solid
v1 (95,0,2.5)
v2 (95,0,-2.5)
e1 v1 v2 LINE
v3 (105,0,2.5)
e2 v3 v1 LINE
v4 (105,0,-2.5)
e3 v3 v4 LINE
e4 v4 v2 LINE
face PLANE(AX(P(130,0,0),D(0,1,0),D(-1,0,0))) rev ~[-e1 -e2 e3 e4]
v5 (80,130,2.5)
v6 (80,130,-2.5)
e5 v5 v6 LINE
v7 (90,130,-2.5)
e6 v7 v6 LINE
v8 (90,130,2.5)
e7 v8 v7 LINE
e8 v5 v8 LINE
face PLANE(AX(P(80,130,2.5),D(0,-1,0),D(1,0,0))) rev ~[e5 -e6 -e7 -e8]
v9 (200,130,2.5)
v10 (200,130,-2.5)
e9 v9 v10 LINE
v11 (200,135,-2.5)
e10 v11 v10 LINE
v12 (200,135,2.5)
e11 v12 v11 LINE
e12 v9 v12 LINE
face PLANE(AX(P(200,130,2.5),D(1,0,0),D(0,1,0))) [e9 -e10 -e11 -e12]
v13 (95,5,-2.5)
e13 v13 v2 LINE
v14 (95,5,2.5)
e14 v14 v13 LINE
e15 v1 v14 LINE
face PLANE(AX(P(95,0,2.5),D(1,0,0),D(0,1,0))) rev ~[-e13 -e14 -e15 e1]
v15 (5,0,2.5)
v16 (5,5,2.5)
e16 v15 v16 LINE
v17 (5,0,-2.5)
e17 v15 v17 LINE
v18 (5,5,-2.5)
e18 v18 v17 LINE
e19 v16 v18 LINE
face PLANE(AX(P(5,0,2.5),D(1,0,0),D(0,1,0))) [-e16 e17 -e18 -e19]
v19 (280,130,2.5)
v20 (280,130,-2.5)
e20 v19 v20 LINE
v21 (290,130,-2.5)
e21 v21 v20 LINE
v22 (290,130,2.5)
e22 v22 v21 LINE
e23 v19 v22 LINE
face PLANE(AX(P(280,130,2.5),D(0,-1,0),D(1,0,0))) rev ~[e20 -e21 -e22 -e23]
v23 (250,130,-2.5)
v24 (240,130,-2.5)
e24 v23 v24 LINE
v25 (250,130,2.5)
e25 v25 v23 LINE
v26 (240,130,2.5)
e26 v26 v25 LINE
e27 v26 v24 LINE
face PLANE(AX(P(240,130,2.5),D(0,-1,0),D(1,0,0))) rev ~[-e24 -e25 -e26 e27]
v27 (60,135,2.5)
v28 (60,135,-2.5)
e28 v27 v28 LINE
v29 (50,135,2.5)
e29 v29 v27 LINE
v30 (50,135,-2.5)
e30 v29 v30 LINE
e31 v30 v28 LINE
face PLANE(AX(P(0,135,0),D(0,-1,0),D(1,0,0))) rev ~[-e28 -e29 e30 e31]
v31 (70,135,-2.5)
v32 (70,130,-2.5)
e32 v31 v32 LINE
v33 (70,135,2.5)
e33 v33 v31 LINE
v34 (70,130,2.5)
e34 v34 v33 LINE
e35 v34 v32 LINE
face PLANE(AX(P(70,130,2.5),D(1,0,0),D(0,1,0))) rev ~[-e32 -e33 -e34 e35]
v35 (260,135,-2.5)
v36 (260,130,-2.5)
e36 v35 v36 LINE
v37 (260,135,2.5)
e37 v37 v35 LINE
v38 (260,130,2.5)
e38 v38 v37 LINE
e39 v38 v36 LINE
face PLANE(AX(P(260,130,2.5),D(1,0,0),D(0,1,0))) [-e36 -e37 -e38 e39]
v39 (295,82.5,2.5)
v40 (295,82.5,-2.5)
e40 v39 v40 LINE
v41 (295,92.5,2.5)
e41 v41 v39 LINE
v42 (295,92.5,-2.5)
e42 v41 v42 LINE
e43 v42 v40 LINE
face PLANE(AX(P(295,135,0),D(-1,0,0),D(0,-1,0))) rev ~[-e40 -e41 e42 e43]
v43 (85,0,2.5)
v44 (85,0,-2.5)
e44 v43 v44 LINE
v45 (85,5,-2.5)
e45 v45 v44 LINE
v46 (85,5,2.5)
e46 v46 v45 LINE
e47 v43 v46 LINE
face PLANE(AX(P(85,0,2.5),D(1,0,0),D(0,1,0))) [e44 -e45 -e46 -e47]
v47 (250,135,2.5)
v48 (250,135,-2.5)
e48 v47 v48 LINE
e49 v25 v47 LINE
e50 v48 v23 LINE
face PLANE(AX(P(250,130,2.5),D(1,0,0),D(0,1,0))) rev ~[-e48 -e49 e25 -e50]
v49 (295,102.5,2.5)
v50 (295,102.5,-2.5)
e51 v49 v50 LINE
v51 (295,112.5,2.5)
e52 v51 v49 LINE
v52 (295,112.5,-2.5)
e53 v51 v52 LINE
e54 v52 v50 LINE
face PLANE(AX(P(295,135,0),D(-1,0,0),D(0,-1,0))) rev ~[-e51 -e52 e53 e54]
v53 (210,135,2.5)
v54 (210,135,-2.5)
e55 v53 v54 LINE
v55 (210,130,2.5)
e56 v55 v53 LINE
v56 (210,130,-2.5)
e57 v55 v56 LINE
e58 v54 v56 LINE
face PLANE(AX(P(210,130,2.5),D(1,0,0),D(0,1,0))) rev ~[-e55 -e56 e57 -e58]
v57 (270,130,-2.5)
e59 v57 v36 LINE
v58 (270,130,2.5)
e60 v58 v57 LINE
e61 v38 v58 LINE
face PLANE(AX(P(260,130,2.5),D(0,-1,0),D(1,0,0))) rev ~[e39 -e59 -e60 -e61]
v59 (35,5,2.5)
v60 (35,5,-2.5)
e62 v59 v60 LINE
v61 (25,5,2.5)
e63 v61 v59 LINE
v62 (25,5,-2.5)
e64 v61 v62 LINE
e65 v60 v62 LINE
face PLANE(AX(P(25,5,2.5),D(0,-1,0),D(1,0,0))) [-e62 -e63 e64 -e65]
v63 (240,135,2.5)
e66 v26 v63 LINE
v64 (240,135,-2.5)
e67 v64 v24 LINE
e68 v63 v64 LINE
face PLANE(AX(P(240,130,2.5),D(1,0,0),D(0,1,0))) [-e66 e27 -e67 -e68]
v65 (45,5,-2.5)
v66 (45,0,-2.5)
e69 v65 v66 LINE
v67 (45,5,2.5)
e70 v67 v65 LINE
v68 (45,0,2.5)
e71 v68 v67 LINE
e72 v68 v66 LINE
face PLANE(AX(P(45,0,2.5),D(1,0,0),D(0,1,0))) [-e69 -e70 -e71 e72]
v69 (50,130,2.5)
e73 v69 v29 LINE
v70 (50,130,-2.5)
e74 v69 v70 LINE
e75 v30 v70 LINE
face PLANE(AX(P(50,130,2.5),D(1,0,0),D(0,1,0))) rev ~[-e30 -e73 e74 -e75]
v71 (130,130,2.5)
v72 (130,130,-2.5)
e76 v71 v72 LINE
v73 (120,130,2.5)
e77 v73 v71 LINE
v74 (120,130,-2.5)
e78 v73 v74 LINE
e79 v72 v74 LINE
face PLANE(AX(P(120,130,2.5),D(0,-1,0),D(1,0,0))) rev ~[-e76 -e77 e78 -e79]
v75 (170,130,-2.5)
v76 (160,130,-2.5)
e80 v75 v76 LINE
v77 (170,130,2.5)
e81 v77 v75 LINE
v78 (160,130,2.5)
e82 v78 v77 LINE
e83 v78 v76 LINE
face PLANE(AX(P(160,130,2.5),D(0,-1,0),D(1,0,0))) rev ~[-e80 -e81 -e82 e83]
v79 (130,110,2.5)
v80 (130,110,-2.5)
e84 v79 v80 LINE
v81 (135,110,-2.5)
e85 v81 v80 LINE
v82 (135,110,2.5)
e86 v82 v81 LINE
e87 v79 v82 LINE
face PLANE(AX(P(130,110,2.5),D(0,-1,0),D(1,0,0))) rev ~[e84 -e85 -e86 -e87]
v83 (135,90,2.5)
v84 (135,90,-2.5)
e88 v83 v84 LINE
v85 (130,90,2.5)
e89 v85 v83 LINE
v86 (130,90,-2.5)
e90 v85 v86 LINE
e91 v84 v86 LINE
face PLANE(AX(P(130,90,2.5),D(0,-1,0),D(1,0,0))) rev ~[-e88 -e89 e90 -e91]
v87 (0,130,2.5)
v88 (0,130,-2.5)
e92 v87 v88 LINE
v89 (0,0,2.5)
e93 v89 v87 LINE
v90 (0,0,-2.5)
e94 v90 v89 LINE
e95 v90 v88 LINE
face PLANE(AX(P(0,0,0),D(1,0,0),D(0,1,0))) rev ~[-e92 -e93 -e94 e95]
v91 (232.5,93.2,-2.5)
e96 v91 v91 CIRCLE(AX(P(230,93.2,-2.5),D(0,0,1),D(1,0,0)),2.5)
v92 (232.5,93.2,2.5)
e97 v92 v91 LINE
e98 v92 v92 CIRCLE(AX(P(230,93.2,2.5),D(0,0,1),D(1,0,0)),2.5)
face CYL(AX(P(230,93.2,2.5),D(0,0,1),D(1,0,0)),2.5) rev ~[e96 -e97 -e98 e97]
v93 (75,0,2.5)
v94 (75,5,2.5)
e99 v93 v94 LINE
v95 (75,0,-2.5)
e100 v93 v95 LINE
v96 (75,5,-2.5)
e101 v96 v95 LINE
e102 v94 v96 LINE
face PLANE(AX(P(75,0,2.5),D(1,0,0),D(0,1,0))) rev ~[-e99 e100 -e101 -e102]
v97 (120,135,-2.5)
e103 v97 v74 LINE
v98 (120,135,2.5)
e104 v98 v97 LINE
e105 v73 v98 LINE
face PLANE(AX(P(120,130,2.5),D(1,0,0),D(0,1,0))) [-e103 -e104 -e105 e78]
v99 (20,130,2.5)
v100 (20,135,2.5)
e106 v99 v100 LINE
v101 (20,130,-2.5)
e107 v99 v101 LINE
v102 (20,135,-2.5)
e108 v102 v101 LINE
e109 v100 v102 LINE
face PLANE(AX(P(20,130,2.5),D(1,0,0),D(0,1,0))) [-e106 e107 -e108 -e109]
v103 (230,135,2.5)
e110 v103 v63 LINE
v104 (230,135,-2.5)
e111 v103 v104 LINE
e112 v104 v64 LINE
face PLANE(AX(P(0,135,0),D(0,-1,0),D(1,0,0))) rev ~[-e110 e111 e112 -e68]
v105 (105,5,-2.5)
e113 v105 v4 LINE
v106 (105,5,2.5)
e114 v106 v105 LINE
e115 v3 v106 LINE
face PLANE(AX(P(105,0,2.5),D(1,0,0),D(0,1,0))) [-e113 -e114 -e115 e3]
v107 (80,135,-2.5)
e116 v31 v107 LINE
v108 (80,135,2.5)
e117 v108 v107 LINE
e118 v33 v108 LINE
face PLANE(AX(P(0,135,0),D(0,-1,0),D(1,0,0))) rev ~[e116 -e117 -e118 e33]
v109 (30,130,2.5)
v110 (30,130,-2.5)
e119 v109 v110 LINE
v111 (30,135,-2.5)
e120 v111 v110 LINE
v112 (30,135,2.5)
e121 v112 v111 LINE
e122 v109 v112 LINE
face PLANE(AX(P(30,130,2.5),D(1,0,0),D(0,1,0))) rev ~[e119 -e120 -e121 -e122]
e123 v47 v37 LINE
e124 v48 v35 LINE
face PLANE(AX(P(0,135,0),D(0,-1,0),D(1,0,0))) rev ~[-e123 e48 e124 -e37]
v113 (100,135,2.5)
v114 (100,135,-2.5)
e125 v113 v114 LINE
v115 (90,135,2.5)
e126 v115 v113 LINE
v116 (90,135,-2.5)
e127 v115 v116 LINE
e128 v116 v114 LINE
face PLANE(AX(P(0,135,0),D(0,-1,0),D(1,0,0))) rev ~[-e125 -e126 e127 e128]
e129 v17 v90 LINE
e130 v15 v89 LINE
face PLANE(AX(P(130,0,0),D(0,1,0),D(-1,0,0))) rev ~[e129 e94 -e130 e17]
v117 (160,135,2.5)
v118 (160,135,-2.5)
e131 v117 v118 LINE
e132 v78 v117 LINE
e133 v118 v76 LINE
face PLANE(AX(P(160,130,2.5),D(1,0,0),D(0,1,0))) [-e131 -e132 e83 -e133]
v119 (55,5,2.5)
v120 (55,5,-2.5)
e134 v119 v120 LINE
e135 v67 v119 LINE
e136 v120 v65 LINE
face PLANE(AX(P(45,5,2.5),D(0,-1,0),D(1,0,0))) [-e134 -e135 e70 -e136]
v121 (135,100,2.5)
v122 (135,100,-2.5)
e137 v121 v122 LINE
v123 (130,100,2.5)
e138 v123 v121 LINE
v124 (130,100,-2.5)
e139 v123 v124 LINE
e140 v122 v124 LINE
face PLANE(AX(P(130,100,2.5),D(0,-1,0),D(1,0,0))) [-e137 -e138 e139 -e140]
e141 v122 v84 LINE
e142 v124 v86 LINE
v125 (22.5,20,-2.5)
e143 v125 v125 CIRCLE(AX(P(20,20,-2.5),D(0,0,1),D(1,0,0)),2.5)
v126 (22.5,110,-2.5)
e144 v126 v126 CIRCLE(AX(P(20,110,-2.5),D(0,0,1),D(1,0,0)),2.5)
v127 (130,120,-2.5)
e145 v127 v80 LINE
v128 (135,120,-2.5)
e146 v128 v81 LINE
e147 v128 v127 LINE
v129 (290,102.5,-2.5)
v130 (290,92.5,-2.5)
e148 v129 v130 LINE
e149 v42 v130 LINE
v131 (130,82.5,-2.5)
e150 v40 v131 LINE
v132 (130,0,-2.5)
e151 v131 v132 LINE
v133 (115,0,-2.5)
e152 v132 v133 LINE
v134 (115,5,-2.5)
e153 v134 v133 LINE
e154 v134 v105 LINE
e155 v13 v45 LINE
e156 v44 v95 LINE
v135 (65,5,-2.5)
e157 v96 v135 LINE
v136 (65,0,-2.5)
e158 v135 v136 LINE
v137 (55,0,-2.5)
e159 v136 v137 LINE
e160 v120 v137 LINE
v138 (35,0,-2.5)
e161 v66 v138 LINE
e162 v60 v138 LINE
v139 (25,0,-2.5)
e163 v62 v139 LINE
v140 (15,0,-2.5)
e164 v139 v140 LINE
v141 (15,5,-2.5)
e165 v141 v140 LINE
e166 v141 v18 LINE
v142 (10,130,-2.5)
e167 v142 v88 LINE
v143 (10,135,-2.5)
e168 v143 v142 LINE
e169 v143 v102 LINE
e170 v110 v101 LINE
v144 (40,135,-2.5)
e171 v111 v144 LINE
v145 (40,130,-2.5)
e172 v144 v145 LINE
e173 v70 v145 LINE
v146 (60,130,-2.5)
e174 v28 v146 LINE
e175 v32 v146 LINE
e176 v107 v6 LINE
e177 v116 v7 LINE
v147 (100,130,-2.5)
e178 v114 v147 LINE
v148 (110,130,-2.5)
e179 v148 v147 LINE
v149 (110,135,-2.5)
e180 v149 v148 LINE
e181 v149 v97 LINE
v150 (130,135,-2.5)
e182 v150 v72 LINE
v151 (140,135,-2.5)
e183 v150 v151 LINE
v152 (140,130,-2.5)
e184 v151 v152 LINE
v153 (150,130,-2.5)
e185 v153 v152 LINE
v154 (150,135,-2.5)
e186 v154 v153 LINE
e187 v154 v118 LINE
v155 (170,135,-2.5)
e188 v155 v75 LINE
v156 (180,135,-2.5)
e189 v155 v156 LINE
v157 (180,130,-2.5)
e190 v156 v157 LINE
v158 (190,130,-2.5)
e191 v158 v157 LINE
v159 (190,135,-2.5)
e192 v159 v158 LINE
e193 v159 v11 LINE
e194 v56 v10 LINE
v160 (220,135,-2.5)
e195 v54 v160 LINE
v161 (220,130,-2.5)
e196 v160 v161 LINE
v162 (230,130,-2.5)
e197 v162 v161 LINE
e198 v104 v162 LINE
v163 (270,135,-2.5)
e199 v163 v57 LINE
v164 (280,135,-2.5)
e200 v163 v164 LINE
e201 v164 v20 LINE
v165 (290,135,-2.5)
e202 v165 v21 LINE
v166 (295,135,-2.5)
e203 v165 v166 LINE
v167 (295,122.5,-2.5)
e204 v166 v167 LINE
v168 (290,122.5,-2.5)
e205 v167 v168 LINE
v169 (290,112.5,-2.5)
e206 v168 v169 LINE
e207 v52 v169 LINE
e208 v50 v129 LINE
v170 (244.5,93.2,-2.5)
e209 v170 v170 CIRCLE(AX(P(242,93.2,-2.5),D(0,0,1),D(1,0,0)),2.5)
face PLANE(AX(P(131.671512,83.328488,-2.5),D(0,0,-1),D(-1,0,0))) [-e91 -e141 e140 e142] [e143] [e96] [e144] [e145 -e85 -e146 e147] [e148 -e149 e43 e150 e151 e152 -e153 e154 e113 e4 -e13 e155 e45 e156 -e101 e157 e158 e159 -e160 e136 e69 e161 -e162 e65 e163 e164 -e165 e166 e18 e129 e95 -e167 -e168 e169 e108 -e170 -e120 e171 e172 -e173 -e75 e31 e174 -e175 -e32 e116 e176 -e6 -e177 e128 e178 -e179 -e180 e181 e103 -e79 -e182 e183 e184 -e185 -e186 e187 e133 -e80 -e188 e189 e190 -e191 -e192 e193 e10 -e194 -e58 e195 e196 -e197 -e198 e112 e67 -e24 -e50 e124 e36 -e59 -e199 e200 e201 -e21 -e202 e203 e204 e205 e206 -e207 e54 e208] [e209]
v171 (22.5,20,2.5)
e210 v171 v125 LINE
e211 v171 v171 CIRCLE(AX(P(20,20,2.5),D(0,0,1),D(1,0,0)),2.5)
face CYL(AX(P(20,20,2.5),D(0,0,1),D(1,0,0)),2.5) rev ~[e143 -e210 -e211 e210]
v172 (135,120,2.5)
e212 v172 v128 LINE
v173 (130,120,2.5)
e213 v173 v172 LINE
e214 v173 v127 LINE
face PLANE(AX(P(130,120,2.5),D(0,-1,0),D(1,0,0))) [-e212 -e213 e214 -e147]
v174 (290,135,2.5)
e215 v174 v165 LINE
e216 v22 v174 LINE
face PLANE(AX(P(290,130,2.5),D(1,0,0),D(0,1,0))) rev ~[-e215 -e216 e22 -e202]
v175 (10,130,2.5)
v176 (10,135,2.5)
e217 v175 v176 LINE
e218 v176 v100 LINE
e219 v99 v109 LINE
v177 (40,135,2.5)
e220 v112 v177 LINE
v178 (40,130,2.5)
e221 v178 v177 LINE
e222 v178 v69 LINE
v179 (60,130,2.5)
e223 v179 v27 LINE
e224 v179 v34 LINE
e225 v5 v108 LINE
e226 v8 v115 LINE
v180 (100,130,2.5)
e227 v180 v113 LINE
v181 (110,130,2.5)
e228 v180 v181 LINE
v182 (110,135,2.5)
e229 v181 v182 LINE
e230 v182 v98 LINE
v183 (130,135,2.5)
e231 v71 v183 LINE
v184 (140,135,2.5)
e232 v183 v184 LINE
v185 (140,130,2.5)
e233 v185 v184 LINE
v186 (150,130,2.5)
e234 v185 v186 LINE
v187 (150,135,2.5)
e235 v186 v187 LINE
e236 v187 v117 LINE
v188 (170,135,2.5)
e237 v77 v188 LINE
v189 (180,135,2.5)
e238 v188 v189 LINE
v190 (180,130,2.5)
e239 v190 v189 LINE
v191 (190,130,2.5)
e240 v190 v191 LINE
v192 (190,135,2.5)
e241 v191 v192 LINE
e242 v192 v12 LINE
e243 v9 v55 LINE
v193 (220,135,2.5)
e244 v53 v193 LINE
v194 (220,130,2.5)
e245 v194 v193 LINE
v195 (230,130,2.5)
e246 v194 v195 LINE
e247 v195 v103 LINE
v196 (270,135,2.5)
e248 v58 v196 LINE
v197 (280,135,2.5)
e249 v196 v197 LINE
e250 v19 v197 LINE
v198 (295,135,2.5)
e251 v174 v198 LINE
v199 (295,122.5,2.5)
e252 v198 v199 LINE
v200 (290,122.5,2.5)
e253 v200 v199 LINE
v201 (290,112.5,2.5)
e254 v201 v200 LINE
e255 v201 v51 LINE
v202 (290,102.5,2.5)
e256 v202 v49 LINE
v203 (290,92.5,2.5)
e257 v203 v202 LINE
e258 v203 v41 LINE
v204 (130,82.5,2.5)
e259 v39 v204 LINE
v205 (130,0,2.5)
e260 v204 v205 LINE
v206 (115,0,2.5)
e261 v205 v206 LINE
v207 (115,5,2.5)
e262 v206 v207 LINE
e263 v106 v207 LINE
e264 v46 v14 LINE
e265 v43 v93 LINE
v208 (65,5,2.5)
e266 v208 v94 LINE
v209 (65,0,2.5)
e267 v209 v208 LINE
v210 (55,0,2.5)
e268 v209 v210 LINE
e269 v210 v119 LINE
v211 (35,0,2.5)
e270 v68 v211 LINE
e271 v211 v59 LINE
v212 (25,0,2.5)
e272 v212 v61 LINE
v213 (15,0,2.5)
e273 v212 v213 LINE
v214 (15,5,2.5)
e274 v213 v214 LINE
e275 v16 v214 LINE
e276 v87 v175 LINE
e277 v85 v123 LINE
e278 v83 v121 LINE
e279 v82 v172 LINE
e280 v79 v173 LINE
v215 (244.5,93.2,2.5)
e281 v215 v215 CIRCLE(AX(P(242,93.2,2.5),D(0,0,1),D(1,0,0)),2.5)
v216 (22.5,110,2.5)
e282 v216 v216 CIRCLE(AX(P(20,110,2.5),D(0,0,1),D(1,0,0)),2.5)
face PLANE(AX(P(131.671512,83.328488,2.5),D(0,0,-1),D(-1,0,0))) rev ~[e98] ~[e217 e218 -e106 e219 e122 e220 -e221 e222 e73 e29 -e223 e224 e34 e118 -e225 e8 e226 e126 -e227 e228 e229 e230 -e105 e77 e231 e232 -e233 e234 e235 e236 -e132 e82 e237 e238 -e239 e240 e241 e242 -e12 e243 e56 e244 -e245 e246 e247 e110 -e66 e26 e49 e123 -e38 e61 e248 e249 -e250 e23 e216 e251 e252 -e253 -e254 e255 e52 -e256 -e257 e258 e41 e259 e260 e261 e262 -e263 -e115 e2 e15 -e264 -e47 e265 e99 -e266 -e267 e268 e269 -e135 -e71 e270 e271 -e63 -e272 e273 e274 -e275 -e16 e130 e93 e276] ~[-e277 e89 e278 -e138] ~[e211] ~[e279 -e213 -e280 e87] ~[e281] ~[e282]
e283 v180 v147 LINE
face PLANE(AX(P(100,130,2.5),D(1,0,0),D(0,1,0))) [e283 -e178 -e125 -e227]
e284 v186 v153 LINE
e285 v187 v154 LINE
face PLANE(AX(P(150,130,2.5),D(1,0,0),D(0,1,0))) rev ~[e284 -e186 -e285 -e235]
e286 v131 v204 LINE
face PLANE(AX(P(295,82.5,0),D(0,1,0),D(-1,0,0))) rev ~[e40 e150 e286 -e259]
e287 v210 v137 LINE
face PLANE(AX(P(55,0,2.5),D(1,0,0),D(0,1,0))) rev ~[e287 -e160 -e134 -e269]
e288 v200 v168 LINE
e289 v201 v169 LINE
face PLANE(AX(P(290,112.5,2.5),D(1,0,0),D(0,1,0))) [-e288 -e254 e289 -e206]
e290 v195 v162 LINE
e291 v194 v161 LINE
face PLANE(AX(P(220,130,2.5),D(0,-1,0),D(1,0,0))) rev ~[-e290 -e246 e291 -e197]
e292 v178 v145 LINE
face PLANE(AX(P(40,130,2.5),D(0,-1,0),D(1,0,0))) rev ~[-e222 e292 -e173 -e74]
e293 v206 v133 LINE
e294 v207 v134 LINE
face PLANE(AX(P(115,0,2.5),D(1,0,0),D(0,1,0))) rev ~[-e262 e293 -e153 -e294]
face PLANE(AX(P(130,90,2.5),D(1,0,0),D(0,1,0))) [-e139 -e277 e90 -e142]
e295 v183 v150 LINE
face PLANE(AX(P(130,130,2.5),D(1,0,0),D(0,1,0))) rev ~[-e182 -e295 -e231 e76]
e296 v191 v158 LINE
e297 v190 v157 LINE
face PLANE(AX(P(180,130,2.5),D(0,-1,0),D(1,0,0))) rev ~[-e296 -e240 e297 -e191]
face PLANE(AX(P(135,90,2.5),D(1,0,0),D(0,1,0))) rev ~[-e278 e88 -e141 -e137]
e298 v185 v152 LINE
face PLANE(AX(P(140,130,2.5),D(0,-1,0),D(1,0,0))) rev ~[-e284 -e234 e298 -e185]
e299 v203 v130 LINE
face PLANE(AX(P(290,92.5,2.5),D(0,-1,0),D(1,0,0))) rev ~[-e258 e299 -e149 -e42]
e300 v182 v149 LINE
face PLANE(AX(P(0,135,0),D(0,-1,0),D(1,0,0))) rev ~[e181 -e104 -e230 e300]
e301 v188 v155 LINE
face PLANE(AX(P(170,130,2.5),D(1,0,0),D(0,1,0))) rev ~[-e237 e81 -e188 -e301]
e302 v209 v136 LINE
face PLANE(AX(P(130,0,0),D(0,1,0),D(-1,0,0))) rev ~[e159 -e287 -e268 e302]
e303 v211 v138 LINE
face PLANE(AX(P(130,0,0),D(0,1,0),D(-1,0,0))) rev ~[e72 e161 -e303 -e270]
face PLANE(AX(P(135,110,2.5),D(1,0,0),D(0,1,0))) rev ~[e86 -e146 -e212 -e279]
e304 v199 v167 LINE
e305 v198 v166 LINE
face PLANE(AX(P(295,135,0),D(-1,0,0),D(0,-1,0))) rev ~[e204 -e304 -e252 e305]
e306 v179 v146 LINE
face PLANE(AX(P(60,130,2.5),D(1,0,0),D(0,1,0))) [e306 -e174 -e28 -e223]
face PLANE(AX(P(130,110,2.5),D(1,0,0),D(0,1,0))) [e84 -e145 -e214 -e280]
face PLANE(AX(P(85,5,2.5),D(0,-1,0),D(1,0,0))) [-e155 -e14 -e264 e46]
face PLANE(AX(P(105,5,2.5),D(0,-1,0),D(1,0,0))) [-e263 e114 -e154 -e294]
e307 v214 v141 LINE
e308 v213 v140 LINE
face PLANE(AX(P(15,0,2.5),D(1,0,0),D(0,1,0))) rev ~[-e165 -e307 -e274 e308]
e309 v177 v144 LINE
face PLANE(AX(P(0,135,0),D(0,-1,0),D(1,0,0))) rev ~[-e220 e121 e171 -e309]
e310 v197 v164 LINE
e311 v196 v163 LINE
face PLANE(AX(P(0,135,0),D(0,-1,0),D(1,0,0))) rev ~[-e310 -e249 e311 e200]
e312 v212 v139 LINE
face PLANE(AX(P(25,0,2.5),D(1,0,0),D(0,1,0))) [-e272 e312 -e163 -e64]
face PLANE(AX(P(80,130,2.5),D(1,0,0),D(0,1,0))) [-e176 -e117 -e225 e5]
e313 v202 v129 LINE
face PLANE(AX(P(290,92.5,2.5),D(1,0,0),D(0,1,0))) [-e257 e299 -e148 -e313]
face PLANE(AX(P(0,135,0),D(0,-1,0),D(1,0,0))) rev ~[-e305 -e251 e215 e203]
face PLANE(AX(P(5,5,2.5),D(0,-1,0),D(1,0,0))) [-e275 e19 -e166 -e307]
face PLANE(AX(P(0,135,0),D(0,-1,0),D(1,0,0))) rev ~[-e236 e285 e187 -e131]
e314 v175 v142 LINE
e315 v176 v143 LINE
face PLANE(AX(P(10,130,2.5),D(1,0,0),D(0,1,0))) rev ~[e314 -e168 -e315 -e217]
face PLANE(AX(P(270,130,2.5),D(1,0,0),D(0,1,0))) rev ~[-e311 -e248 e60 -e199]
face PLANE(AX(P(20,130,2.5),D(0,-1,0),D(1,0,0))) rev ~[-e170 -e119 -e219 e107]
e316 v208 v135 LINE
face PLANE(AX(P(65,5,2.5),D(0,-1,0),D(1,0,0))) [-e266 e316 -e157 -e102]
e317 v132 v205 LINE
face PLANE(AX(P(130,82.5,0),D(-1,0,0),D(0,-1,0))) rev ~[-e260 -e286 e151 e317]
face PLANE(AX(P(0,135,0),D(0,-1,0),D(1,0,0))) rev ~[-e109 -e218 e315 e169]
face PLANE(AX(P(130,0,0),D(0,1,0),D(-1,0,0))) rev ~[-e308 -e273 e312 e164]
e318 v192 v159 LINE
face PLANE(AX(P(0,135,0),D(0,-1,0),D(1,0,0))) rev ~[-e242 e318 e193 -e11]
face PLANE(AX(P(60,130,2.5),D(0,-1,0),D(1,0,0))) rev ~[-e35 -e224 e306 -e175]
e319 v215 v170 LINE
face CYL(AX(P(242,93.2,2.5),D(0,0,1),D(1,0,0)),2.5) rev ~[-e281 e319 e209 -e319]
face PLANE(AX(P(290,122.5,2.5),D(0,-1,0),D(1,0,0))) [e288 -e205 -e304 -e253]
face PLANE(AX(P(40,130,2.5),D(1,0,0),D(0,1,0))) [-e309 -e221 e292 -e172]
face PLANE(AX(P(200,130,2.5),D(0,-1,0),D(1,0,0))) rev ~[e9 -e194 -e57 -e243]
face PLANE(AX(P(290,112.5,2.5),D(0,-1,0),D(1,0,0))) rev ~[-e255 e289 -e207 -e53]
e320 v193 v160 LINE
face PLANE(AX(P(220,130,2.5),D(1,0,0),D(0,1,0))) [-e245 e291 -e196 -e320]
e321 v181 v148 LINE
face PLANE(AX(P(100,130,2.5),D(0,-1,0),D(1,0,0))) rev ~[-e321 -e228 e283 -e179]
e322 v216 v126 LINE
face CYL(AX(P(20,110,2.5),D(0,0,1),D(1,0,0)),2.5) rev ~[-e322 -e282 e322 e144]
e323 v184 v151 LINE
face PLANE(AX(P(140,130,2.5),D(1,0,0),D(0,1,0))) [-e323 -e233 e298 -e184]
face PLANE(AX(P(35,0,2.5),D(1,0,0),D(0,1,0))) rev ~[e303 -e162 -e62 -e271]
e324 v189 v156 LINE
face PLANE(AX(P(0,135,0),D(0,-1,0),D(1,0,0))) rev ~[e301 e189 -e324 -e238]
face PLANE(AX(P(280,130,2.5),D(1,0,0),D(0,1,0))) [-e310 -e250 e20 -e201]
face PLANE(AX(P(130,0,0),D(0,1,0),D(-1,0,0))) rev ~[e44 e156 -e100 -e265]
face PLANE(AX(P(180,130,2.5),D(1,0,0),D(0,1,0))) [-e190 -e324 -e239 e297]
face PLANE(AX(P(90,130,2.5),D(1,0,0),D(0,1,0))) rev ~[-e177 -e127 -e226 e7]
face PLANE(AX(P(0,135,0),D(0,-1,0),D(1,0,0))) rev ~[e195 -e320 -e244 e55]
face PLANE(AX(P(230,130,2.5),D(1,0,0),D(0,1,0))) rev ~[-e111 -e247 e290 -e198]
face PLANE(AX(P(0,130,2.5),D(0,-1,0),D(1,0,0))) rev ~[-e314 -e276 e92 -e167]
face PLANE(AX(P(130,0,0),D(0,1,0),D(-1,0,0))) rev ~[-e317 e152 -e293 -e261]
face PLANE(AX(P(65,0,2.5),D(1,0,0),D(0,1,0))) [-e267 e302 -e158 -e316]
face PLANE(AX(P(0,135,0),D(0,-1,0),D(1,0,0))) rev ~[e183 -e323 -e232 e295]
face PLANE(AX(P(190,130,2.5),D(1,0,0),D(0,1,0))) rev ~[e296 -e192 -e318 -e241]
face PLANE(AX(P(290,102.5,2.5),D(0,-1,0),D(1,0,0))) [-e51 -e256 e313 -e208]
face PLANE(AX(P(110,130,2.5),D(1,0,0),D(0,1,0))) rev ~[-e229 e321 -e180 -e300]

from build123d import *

# Parameters (mm, degrees)
PAD_DEPTH       = 2.5
SKETCH001_W     = 5
SKETCH001_H     = 10
POCKET_DEPTH    = 5.001
SKETCH002_W     = 10
SKETCH002_H     = 5
POCKET001_DEPTH = 5.001
SKETCH003_W     = 5
SKETCH003_H     = 10
POCKET002_DEPTH = 5.001
SKETCH004_W     = 10
SKETCH004_H     = 5
POCKET003_DEPTH = 5.001
SKETCH005_R     = 2.5
POCKET004_DEPTH = 5.001
SKETCH006_R     = 2.5
POCKET005_DEPTH = 5.001


with BuildPart() as part:
    # Sketch → Pad (new body, symmetric)
    with BuildSketch(Plane.XY):
        Polygon((0, 0), (0, 135), (295, 135), (295, 82.5), (130, 82.5), (130, 0), align=None)
    extrude(amount=PAD_DEPTH, both=True)

    # Sketch001 (on Face8 of Pad) → Pocket (cut, through all)
    with BuildSketch(Plane.XY.offset(2.5)):
        with Locations((292.5, 97.5)):
            Rectangle(SKETCH001_W, SKETCH001_H)
        with Locations((292.5, 117.5)):
            Rectangle(SKETCH001_W, SKETCH001_H)
    extrude(amount=-POCKET_DEPTH, mode=Mode.SUBTRACT)

    # Sketch002 (on Face5 of Pocket) → Pocket001 (cut, through all)
    with BuildSketch(Plane.XY.offset(2.5)):
        with Locations((5, 132.5)):
            Rectangle(SKETCH002_W, SKETCH002_H)
        with Locations((25, 132.5)):
            Rectangle(SKETCH002_W, SKETCH002_H)
        with Locations((45, 132.5)):
            Rectangle(SKETCH002_W, SKETCH002_H)
        with Locations((65, 132.5)):
            Rectangle(SKETCH002_W, SKETCH002_H)
        with Locations((85, 132.5)):
            Rectangle(SKETCH002_W, SKETCH002_H)
        with Locations((105, 132.5)):
            Rectangle(SKETCH002_W, SKETCH002_H)
        with Locations((125, 132.5)):
            Rectangle(SKETCH002_W, SKETCH002_H)
        with Locations((145, 132.5)):
            Rectangle(SKETCH002_W, SKETCH002_H)
        with Locations((165, 132.5)):
            Rectangle(SKETCH002_W, SKETCH002_H)
        with Locations((185, 132.5)):
            Rectangle(SKETCH002_W, SKETCH002_H)
        with Locations((205, 132.5)):
            Rectangle(SKETCH002_W, SKETCH002_H)
        with Locations((225, 132.5)):
            Rectangle(SKETCH002_W, SKETCH002_H)
        with Locations((245, 132.5)):
            Rectangle(SKETCH002_W, SKETCH002_H)
        with Locations((265, 132.5)):
            Rectangle(SKETCH002_W, SKETCH002_H)
        with Locations((285, 132.5)):
            Rectangle(SKETCH002_W, SKETCH002_H)
    extrude(amount=-POCKET001_DEPTH, mode=Mode.SUBTRACT)

    # Sketch003 (on Face4 of Pocket001) → Pocket002 (cut, through all)
    with BuildSketch(Plane.XY.offset(2.5)):
        with Locations((132.5, 95)):
            Rectangle(SKETCH003_W, SKETCH003_H)
        with Locations((132.5, 115)):
            Rectangle(SKETCH003_W, SKETCH003_H)
    extrude(amount=-POCKET002_DEPTH, mode=Mode.SUBTRACT)

    # Sketch004 (on Face4 of Pocket002) → Pocket003 (cut, through all)
    with BuildSketch(Plane.XY.offset(2.5)):
        with Locations((10, 2.5)):
            Rectangle(SKETCH004_W, SKETCH004_H)
        with Locations((30, 2.5)):
            Rectangle(SKETCH004_W, SKETCH004_H)
        with Locations((50, 2.5)):
            Rectangle(SKETCH004_W, SKETCH004_H)
        with Locations((70, 2.5)):
            Rectangle(SKETCH004_W, SKETCH004_H)
        with Locations((90, 2.5)):
            Rectangle(SKETCH004_W, SKETCH004_H)
        with Locations((110, 2.5)):
            Rectangle(SKETCH004_W, SKETCH004_H)
    extrude(amount=-POCKET003_DEPTH, mode=Mode.SUBTRACT)

    # Sketch005 (on Face4 of Pocket003) → Pocket004 (cut, through all)
    with BuildSketch(Plane.XY.offset(2.5)):
        with Locations((20, 110)):
            Circle(SKETCH005_R)
        with Locations((20, 20)):
            Circle(SKETCH005_R)
    extrude(amount=-POCKET004_DEPTH, mode=Mode.SUBTRACT)

    # Sketch006 (on Face4 of Pocket004) → Pocket005 (cut, through all)
    with BuildSketch(Plane.XY.offset(2.5)):
        with Locations((230, 93.2)):
            Circle(SKETCH006_R)
        with Locations((242, 93.2)):
            Circle(SKETCH006_R)
    extrude(amount=-POCKET005_DEPTH, mode=Mode.SUBTRACT)


solid = part.part
